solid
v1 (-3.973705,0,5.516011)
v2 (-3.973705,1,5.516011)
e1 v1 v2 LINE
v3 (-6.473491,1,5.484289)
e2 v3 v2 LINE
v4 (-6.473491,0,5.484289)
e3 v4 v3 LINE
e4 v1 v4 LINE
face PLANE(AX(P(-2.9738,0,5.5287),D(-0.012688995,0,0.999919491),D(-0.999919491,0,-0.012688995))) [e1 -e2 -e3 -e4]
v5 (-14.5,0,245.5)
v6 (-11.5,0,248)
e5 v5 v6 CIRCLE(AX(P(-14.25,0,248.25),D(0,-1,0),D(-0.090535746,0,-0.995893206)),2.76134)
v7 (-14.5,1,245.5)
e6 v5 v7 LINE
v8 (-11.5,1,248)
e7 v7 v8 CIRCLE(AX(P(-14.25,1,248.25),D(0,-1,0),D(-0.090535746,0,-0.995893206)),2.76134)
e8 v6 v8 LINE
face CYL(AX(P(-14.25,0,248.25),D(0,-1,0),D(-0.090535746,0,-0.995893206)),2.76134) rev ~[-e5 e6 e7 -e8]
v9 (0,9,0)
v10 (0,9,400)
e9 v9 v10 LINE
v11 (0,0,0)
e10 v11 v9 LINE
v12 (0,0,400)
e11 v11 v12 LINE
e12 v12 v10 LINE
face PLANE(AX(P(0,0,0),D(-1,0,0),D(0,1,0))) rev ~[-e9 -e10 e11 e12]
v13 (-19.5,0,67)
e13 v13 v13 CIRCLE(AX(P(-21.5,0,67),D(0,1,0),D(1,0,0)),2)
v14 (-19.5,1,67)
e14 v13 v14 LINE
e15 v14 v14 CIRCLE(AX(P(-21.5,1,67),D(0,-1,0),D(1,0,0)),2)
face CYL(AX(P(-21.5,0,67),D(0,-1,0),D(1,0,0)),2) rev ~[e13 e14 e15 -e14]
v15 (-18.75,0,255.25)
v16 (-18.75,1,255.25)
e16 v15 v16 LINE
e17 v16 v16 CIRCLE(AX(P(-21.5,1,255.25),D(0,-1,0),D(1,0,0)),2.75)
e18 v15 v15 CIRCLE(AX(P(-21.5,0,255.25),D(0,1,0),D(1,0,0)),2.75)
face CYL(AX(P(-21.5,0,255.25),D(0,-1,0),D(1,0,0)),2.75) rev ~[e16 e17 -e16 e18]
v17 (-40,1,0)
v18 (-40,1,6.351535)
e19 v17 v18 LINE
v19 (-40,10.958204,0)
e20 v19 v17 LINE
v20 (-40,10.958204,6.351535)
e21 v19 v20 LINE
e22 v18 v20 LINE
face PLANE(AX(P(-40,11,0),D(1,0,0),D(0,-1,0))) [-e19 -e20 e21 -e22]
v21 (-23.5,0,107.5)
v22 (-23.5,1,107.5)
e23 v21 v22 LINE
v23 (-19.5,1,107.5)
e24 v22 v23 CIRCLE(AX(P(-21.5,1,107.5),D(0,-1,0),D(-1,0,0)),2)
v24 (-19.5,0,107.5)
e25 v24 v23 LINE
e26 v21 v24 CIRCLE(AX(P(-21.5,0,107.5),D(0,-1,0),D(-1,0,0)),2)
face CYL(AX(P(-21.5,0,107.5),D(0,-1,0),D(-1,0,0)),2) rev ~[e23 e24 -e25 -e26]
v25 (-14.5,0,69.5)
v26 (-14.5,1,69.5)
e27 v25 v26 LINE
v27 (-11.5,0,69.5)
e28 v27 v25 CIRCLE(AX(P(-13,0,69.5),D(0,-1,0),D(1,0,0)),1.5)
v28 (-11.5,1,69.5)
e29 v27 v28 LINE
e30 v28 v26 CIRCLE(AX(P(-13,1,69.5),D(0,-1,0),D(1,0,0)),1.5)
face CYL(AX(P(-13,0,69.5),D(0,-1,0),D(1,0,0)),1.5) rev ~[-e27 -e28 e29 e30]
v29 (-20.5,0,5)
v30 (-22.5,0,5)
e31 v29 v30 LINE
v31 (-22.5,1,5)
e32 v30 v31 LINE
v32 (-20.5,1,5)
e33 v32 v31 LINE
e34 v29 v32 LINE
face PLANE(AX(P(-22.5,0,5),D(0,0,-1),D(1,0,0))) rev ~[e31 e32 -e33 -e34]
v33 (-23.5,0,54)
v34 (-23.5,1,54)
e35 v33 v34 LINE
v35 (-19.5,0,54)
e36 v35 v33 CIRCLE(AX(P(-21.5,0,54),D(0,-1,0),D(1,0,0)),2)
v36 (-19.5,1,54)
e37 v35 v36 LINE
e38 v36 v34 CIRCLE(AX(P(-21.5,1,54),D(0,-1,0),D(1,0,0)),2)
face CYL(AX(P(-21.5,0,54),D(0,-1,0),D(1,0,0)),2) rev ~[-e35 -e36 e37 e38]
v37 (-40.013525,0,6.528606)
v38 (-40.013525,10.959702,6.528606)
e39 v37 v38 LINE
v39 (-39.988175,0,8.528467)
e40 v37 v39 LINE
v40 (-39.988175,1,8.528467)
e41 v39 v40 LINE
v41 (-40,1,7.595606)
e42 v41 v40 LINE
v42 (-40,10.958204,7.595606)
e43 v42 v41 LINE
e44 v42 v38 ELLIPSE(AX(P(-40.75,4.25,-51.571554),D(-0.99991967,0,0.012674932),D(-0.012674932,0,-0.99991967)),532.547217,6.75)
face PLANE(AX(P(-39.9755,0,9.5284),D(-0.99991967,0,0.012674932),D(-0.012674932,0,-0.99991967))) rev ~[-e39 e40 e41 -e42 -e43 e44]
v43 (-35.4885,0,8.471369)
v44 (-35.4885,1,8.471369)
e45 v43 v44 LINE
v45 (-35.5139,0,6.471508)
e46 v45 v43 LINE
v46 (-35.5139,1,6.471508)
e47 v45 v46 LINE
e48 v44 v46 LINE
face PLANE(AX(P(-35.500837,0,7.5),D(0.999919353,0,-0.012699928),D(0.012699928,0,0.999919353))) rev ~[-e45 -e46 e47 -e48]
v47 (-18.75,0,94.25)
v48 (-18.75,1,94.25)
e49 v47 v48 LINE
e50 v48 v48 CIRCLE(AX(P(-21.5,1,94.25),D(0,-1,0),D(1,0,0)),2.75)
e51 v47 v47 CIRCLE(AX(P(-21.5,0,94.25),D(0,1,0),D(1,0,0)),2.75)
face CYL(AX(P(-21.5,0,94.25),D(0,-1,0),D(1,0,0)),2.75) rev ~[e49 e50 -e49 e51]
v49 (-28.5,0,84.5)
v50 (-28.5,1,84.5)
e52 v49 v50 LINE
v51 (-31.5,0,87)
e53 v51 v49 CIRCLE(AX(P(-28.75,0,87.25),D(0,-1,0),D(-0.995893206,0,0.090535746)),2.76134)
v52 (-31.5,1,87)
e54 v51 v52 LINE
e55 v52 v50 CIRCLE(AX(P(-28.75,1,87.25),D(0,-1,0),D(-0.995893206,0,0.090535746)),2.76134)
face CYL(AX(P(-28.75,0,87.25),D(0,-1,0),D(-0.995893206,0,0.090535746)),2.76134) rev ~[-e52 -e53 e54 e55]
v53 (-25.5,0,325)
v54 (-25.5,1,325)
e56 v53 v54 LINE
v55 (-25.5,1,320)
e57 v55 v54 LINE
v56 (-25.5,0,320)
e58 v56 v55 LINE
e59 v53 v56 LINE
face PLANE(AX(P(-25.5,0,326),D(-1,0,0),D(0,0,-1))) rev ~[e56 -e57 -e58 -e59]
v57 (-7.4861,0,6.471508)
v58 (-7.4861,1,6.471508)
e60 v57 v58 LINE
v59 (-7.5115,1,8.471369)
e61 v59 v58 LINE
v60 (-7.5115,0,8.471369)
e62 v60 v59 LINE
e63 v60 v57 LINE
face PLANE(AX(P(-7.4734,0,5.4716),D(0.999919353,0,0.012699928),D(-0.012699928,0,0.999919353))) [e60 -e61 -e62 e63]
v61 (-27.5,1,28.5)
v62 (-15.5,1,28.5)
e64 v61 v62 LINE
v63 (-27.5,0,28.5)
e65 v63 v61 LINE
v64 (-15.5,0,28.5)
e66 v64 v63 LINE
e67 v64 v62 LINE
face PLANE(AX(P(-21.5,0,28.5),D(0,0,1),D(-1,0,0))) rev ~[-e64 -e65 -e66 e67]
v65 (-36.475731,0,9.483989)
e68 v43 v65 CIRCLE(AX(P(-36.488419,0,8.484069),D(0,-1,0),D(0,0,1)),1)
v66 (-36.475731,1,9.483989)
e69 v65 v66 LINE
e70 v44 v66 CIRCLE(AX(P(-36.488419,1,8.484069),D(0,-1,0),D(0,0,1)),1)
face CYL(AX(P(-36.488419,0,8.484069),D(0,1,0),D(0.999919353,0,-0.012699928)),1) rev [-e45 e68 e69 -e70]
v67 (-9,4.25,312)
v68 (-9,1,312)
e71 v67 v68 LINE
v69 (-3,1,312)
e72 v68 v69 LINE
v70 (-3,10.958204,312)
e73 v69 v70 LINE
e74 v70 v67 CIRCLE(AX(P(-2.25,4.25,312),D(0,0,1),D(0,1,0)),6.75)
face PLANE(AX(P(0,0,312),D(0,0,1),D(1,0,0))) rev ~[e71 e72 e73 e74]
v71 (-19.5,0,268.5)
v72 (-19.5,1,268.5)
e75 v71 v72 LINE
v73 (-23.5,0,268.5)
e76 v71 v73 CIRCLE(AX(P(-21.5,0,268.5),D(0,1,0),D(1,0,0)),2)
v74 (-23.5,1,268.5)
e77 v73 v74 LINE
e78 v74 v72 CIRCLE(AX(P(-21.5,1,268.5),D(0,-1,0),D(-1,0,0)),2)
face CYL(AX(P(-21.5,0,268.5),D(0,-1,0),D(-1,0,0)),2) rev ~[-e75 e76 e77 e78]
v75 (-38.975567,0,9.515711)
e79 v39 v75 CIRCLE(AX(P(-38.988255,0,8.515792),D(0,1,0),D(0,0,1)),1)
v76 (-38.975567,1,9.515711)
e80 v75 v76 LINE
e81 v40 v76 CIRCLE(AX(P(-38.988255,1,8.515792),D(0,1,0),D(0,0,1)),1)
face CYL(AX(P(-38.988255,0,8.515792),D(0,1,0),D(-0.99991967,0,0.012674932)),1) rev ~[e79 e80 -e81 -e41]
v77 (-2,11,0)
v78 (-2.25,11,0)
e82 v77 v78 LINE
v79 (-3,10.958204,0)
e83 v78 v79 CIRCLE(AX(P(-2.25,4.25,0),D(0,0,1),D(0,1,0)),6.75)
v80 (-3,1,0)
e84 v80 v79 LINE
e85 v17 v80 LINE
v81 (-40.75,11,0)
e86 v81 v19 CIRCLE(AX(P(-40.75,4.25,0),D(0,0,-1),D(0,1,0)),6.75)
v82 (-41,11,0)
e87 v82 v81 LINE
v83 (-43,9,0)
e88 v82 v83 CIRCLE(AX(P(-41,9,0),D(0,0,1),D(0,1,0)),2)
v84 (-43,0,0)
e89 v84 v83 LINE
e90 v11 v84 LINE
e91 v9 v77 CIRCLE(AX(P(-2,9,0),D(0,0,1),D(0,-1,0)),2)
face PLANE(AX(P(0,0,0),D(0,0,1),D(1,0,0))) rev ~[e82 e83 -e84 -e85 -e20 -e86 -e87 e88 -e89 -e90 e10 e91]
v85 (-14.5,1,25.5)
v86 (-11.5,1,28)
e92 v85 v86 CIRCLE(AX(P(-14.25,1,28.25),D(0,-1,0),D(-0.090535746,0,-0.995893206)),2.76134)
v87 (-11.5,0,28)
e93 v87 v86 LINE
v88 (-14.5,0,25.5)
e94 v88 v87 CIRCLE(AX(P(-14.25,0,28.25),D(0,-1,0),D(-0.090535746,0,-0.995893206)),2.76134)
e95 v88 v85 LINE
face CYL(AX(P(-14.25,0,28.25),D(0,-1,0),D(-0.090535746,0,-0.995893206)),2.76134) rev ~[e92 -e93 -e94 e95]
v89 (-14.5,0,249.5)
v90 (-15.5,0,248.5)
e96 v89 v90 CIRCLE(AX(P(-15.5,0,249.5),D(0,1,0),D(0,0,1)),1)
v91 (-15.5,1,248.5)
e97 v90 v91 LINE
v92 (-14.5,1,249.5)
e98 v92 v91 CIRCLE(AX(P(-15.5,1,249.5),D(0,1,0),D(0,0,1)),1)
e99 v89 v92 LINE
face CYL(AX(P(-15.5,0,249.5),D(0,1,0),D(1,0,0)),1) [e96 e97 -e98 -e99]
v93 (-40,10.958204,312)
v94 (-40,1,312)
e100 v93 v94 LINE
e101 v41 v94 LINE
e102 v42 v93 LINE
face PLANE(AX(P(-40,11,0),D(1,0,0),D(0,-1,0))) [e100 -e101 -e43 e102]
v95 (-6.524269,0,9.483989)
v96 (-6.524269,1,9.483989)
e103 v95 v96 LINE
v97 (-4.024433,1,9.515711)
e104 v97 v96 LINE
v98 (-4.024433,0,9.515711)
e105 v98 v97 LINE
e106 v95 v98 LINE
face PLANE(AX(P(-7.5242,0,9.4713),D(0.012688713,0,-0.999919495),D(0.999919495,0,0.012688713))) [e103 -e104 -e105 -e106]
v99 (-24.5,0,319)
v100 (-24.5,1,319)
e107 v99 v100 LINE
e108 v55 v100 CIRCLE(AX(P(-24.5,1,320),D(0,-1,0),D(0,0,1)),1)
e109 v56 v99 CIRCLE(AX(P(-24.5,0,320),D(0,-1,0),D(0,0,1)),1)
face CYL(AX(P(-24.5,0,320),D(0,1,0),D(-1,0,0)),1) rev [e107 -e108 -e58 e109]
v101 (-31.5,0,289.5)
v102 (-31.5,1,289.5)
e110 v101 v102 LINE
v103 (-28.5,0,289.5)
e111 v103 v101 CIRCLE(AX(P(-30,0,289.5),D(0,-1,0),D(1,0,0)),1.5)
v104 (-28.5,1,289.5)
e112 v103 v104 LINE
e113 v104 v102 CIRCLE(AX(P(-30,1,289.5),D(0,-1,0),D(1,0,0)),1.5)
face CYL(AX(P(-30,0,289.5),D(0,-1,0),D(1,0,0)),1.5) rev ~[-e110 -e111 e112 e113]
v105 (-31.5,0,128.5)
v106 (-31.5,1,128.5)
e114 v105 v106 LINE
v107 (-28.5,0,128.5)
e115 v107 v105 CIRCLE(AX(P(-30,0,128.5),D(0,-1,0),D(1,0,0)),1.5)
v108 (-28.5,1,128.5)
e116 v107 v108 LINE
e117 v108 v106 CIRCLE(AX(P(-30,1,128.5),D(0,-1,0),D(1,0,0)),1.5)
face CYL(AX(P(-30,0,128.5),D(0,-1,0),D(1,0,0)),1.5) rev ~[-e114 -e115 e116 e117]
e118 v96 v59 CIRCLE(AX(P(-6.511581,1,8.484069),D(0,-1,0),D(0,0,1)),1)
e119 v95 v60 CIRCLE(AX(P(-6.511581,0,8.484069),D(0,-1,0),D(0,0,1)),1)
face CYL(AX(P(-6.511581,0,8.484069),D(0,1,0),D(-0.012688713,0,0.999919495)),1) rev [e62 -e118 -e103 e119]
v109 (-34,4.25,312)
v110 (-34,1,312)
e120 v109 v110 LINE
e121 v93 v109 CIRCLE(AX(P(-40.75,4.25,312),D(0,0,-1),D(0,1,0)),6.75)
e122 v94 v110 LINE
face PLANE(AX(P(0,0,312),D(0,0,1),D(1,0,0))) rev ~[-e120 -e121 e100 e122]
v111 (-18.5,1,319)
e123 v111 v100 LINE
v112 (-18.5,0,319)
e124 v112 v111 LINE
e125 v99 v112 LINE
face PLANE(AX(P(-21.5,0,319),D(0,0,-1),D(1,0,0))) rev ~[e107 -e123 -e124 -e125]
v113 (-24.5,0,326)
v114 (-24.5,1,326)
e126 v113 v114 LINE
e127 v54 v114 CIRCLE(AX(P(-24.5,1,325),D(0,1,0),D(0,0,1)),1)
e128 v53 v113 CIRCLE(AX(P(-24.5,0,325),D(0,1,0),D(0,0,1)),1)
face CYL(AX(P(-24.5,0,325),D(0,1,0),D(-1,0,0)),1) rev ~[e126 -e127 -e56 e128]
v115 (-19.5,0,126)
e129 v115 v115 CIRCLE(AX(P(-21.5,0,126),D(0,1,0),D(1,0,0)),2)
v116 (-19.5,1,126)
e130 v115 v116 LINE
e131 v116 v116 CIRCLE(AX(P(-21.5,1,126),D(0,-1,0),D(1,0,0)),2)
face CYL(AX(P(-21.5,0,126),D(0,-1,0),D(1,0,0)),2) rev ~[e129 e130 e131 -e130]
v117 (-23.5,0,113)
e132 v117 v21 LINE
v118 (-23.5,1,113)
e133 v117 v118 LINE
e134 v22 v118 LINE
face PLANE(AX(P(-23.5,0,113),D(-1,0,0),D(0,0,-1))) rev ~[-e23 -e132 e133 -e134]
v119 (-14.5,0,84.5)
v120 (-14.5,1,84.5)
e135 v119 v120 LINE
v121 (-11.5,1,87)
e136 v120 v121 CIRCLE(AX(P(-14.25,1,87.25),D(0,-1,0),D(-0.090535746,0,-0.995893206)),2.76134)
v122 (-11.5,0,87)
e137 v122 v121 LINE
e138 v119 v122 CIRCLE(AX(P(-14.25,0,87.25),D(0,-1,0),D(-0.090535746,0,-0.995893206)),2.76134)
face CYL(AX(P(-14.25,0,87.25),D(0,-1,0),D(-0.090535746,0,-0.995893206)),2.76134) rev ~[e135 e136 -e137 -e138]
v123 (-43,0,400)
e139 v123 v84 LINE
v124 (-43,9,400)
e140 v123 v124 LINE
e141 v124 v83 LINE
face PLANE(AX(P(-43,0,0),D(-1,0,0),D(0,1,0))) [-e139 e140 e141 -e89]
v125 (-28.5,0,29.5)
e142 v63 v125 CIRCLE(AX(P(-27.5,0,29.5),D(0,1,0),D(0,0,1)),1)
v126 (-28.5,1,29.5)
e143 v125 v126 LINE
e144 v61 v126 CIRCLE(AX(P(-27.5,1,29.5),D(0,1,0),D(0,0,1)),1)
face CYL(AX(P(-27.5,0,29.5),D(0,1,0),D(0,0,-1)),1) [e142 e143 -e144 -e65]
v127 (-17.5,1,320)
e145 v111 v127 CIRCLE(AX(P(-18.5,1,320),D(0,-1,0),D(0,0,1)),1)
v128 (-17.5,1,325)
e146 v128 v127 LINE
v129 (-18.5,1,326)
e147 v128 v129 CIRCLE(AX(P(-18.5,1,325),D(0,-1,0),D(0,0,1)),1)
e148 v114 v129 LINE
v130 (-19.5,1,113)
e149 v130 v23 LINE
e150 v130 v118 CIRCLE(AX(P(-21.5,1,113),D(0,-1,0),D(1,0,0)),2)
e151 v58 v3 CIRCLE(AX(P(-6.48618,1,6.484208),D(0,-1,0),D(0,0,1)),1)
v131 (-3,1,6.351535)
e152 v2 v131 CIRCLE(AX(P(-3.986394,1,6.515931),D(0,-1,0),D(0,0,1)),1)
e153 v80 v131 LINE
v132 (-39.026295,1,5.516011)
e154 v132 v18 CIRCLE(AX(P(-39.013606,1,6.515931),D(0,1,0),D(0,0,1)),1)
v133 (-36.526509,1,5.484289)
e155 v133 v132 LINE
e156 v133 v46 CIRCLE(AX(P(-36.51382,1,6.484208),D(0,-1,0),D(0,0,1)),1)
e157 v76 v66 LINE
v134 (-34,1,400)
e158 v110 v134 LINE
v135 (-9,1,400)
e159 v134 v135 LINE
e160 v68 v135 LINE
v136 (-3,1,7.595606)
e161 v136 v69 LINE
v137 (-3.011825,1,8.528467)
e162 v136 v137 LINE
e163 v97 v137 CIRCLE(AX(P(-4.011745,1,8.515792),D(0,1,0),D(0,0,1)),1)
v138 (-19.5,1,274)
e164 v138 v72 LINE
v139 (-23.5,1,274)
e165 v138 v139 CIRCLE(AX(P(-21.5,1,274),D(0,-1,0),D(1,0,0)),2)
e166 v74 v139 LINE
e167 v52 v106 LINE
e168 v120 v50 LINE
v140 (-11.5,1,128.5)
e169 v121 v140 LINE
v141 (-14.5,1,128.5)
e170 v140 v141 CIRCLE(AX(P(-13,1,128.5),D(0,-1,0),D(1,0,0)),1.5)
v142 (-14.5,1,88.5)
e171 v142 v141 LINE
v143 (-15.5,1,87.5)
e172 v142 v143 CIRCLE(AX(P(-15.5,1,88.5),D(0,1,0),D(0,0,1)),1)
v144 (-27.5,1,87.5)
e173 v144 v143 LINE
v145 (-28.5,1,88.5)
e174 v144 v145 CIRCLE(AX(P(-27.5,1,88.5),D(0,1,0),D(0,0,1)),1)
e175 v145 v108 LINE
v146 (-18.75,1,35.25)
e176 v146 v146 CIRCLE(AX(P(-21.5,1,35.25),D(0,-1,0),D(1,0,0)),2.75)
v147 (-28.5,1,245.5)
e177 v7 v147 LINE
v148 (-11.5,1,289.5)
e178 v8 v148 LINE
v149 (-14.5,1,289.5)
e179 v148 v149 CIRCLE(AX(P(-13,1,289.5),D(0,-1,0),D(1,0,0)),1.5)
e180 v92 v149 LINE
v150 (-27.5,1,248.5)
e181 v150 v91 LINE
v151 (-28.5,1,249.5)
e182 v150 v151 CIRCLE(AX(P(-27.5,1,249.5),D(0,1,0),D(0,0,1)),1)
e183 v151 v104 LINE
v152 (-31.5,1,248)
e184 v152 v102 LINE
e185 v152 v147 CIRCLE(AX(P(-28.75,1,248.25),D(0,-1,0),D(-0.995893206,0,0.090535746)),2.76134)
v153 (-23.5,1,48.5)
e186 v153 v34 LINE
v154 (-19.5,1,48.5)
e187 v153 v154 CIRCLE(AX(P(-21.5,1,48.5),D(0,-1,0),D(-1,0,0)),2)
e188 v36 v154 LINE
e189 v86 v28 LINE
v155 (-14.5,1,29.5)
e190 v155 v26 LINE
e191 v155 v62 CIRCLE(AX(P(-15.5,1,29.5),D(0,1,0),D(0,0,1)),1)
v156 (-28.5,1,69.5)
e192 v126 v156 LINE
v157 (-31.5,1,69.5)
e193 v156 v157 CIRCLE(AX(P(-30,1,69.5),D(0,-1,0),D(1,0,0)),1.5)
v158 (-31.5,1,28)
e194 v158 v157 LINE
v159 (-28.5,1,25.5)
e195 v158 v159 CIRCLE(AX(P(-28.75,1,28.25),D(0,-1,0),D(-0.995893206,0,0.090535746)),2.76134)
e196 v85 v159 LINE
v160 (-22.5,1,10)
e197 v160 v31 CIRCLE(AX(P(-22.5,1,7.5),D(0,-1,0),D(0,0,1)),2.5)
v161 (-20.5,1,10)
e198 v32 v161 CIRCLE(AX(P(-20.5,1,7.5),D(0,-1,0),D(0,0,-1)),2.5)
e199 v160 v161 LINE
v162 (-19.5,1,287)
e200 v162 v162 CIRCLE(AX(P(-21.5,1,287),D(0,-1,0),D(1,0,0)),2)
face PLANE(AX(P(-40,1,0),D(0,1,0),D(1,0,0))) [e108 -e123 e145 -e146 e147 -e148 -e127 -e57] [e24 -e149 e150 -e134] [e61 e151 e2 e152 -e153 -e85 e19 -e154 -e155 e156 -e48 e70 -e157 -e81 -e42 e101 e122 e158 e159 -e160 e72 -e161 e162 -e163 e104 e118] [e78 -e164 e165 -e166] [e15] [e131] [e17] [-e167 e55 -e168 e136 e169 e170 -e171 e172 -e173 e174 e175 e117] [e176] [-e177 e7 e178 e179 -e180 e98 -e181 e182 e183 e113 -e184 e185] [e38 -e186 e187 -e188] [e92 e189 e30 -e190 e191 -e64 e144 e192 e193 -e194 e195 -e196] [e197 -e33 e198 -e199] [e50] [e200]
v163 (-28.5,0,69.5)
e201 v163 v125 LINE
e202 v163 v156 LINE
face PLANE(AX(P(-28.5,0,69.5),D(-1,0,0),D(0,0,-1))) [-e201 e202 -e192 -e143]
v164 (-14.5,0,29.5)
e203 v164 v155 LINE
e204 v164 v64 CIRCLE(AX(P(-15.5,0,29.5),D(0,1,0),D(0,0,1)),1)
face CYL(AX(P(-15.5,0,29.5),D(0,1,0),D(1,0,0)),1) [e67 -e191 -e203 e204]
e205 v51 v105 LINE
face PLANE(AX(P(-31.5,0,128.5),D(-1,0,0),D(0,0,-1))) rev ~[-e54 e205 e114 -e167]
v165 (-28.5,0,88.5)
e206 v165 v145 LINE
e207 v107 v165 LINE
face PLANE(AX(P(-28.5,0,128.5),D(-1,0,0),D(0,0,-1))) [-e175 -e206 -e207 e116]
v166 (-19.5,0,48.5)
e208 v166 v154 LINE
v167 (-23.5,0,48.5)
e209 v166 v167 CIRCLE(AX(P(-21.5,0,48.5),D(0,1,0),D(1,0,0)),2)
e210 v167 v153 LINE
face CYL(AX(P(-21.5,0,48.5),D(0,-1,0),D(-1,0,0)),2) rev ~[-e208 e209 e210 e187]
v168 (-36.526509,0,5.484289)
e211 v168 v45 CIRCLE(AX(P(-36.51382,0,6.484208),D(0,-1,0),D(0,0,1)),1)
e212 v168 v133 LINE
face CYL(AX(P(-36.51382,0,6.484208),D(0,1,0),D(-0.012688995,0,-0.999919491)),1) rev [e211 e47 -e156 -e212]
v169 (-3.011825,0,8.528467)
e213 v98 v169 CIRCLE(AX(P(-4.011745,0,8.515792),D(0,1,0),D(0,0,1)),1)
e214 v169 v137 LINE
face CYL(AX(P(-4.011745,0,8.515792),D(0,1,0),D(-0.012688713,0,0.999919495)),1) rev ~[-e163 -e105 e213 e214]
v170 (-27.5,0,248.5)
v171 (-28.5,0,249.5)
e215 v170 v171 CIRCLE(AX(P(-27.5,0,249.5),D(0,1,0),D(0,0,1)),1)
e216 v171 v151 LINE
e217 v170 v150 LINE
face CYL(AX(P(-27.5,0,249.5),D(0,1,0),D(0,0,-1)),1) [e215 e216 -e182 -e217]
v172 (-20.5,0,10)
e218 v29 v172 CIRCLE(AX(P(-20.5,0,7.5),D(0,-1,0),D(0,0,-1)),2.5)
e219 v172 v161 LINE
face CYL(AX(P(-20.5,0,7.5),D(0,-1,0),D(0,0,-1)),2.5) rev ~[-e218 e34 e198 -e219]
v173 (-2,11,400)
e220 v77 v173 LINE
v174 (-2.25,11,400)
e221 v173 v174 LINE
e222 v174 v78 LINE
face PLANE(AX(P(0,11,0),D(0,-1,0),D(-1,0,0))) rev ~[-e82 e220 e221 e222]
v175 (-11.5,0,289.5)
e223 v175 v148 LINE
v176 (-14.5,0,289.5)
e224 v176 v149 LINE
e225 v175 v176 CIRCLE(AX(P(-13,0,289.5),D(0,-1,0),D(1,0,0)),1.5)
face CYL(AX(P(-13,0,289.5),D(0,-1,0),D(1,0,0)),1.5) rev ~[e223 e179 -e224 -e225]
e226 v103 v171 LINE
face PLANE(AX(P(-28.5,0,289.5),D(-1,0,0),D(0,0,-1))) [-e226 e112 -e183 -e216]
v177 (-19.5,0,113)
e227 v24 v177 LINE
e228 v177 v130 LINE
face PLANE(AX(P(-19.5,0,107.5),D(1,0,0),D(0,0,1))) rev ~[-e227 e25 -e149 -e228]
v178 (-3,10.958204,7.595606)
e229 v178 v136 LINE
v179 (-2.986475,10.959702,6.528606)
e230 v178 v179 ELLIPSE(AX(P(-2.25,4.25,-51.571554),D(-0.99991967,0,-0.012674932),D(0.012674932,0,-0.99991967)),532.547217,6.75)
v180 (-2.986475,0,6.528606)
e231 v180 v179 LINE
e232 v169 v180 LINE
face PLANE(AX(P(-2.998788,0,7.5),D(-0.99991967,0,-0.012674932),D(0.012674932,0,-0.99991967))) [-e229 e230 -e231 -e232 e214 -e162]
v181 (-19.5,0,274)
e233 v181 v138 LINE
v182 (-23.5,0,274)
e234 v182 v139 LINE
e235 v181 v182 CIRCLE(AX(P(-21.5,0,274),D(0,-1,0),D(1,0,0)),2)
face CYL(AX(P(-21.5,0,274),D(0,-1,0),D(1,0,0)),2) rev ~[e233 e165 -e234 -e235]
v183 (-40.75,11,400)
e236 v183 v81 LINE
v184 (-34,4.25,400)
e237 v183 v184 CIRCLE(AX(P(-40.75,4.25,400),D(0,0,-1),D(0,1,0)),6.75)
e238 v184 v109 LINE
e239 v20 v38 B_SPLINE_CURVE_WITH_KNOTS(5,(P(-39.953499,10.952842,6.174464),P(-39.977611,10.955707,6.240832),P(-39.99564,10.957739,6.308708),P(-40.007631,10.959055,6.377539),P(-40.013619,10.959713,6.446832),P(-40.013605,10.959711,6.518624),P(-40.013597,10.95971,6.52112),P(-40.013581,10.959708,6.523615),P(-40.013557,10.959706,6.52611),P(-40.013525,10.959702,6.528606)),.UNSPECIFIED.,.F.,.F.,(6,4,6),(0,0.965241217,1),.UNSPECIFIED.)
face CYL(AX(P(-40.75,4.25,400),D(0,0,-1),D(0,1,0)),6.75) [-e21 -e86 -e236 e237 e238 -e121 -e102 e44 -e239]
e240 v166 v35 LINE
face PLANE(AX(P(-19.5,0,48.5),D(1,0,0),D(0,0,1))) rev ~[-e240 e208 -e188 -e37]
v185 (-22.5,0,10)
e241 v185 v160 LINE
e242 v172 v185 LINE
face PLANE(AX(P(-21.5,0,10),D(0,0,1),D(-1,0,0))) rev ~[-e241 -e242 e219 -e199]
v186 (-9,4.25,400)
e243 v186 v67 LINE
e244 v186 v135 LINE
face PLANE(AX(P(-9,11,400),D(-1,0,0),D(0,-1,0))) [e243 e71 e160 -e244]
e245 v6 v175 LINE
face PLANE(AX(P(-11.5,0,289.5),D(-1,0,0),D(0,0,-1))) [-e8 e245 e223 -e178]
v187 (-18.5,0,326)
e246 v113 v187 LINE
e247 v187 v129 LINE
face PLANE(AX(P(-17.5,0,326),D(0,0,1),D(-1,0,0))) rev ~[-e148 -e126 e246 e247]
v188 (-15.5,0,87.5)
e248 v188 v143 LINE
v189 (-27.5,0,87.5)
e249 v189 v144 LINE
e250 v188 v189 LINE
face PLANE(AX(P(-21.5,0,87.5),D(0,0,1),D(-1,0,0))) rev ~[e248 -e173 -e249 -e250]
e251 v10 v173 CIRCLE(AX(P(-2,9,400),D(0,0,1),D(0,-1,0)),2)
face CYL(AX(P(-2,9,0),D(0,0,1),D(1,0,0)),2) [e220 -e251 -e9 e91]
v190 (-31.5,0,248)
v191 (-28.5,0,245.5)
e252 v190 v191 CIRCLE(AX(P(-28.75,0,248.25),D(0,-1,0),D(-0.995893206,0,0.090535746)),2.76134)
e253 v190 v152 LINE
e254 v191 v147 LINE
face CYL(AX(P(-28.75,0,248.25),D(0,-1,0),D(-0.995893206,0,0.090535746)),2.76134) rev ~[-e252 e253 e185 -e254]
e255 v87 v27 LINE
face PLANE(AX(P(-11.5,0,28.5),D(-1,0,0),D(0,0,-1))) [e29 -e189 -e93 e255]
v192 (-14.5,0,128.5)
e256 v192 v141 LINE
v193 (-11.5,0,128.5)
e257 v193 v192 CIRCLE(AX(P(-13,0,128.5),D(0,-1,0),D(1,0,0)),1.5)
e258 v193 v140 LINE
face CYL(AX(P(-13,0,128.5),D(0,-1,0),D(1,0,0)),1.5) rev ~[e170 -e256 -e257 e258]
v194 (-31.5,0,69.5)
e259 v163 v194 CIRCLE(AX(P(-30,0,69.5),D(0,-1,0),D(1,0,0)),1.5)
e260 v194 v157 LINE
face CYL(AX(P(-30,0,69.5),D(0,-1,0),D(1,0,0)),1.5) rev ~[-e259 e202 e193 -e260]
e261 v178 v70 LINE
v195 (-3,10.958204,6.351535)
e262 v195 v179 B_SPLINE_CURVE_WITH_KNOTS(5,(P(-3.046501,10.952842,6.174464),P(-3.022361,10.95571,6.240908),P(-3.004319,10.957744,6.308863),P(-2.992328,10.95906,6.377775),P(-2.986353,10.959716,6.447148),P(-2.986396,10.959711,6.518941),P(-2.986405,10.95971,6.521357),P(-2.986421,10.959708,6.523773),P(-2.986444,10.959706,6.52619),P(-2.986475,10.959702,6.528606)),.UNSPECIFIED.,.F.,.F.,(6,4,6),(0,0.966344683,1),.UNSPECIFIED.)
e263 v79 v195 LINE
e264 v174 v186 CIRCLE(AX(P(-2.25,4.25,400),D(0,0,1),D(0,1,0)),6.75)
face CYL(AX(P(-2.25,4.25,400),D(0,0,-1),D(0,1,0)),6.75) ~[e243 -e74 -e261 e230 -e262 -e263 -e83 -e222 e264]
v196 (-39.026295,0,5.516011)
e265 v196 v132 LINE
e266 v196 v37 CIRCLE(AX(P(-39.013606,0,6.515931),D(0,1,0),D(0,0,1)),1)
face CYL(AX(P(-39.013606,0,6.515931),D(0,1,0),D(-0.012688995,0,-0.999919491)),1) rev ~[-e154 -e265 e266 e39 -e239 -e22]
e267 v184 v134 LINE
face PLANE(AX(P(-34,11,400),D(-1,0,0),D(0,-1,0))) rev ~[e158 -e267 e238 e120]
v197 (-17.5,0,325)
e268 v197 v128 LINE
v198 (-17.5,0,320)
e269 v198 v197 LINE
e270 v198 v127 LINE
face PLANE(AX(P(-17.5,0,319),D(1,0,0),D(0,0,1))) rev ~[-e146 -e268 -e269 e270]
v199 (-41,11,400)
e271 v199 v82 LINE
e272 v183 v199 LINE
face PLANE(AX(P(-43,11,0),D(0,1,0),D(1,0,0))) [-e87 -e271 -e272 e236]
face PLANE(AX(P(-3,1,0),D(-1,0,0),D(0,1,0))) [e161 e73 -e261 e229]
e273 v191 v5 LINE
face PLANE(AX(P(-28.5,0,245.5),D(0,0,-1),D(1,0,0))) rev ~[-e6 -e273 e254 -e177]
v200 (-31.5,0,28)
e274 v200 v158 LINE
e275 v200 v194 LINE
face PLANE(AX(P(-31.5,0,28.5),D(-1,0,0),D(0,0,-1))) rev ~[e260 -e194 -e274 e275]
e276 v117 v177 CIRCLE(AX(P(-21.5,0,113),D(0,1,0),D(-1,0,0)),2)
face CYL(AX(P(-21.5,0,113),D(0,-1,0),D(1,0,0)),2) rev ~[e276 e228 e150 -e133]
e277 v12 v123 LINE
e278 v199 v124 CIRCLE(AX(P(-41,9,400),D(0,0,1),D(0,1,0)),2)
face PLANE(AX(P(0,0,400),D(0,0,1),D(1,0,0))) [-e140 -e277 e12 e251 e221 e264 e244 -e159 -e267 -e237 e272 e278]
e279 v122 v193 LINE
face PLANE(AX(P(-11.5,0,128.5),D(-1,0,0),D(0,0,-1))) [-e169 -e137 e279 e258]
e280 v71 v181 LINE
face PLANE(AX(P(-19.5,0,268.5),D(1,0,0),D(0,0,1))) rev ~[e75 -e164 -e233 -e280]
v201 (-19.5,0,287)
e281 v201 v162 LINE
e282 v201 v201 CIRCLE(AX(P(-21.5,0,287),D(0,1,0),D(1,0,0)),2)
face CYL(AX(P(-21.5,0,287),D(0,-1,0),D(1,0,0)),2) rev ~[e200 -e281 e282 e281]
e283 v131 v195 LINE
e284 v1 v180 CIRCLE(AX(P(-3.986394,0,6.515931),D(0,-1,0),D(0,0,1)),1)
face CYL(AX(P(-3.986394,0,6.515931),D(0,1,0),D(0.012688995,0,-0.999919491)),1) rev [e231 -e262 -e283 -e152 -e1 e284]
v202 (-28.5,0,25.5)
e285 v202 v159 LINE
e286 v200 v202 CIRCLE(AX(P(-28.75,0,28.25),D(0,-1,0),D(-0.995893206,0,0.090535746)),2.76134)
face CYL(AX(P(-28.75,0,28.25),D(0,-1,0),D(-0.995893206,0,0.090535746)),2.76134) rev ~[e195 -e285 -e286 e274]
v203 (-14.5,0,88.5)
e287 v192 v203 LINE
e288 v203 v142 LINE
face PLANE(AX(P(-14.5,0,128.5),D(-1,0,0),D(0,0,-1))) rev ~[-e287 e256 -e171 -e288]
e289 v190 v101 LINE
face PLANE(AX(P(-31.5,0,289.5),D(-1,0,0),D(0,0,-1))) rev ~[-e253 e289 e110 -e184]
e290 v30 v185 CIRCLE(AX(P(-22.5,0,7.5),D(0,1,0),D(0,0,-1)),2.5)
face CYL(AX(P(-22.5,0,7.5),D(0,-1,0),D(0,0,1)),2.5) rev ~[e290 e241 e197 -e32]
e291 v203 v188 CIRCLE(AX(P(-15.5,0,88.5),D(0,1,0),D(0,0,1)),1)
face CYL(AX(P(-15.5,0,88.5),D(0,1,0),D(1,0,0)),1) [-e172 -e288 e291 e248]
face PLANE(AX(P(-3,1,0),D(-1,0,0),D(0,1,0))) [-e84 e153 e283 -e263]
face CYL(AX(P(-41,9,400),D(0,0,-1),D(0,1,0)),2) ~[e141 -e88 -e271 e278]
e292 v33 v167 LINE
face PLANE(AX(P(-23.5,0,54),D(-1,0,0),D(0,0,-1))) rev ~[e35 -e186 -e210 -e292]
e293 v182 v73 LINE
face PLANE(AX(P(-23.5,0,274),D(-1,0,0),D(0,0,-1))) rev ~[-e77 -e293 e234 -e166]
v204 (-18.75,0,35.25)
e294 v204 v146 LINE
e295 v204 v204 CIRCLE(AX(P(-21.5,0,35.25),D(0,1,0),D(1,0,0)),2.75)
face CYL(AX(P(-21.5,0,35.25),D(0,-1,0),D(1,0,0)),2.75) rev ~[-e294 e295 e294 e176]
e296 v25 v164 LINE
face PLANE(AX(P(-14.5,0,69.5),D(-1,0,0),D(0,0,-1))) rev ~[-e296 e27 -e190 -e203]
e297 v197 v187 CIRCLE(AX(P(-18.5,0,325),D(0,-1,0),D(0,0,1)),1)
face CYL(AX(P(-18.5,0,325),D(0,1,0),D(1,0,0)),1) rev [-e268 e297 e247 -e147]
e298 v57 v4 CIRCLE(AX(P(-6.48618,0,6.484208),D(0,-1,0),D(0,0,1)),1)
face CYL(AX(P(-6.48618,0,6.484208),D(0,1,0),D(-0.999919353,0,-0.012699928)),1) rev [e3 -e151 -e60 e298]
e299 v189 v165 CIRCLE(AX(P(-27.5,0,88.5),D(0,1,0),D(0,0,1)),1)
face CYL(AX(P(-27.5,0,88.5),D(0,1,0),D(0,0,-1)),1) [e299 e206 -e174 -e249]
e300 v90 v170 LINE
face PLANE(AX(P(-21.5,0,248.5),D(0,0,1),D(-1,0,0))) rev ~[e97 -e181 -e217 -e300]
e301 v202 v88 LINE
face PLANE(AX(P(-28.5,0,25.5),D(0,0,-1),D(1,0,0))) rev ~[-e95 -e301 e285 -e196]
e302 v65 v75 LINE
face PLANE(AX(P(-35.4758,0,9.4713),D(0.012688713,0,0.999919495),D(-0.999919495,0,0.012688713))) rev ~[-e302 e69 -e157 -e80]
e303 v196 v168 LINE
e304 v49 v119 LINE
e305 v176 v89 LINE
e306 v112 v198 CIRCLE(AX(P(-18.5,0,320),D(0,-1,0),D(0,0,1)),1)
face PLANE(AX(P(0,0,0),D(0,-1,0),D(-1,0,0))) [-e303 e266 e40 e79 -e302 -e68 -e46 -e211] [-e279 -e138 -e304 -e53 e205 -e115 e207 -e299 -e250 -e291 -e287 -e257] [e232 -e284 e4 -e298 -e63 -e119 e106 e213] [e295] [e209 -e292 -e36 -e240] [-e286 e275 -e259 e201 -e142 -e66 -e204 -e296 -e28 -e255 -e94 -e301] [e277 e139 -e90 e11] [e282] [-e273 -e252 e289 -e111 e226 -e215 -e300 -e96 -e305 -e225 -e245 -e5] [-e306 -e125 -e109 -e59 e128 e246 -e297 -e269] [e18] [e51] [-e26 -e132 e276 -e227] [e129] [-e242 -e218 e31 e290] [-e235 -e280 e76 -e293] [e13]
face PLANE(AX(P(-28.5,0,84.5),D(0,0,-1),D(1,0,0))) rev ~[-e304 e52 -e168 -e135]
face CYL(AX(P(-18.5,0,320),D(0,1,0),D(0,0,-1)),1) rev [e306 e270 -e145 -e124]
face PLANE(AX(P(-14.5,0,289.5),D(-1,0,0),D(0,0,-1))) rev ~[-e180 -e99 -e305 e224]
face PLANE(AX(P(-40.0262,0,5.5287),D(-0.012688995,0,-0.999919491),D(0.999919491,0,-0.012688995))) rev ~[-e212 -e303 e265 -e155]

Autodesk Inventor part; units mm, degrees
ref_plane "YZ Plane" through (0, 0, 0) normal (1, 0, 0) x (0, 1, 0)
ref_plane "XZ Plane" through (0, 0, 0) normal (0, 1, 0) x (-1, 0, 0)
ref_plane "XY Plane" through (0, 0, 0) normal (0, 0, 1) x (1, 0, 0)
sketch "Эскиз1" plane through (0, 0, 0) normal (0, 0, 1) x (1, 0, 0)
  line L0 (0, 0) -> (-43, 0)
  line L1 (-43, 0) -> (-43, 11)
  line L2 (0, 0) -> (0, 11)
  line L3 (0, 11) -> (-3, 11)
  line L4 (-43, 11) -> (-40, 11)
  line L5 (-40, 11) -> (-40, 1)
  line L6 (-40, 1) -> (-3, 1)
  line L7 (-3, 1) -> (-3, 11)
  dimension "d0" = 43
  dimension "d1" = 11
  dimension "d2" = 11
  dimension "d3" = 3
  dimension "d4" = 10
extrude "Выдавливание1" add sketch "Эскиз1" along normal blind 400
sketch "Эскиз2" plane through (0, 0, 400) normal (0, 0, 1) x (1, 0, 0)
  line L0 (-40, 11) -> (-43, 11) projected
  line L1 (-43, 0) -> (0, 0) projected
  line L2 (-43, 11) -> (-34, 11)
  line L3 (-34, 11) -> (-34, 0)
  line L4 (-34, 0) -> (-43, 0)
  line L5 (-43, 0) -> (-43, 11)
  line L6 (0, 11) -> (-9, 11)
  line L7 (-9, 11) -> (-9, 0)
  line L8 (-9, 0) -> (0, 0)
  line L9 (0, 0) -> (0, 11)
  dimension "d7" = 9
  dimension "d8" = 9
extrude "Выдавливание2" add sketch "Эскиз2" against normal blind 88
fillet "Сопряжение1" radius 6.75 2 edges at (-9, 11, 356) (-34, 11, 356)
fillet "Сопряжение2" radius 2 2 edges at (-43, 11, 200) (0, 11, 200)
sketch "Эскиз3" plane through (-43, 0, 0) normal (0, -1, 0) x (1, 0, 0)
  line L0 (0, 400) -> (43, 400) projected
  line L1 (0, 0) -> (0, 400) projected
  line L2 (0, 0) -> (43, 0) projected
  line L3 (43, 0) -> (43, 400) projected
  line L4 (21.5, 400) -> (21.5, -41)
  line L5 (21.5, 400) -> (21.5, 322.5)
  line L6 (17.5, 319) -> (25.5, 319)
  line L7 (25.5, 319) -> (25.5, 326)
  line L8 (25.5, 326) -> (17.5, 326)
  line L9 (17.5, 326) -> (17.5, 319)
  line L10 (17.5, 319) -> (25.5, 326) construction
  line L11 (25.5, 319) -> (17.5, 326) construction
  line L12 (21.5, 319) -> (21.5, 287)
  circle A0 centre (21.5, 287) radius 2
  line L13 (21.5, 285) -> (21.5, 276)
  line L14 (21.5, 276) -> (21.5, 266.5) construction
  line L15 (19.5, 274) -> (19.5, 268.5)
  line L16 (23.5, 268.5) -> (23.5, 274)
  arc A1 (23.5, 274) -> (19.5, 274) centre (21.5, 274) ccw
  arc A2 (19.5, 268.5) -> (23.5, 268.5) centre (21.5, 268.5) ccw
  line L17 (21.5, 266.5) -> (21.5, 255.25)
  circle A3 centre (21.5, 255.25) radius 2.75
  line L18 (21.5, 400) -> (28.5, 400)
  line L19 (21.5, 400) -> (14.5, 400)
  line L20 (14.5, 400) -> (14.5, -41)
  line L21 (28.5, 400) -> (28.5, -41)
  line L22 (31.5, 400) -> (31.5, -41)
  line L23 (11.5, 400) -> (11.5, -41)
  line L24 (30, 291) -> (30, 247) construction
  line L25 (28.5, 289.5) -> (28.5, 248.5)
  line L26 (31.5, 248) -> (31.5, 289.5)
  arc A4 (31.5, 289.5) -> (28.5, 289.5) centre (30, 289.5) ccw
  line L27 (13, 291) -> (13, 245.5) construction
  line L28 (11.5, 289.5) -> (11.5, 248)
  line L29 (14.5, 248.5) -> (14.5, 289.5)
  arc A5 (14.5, 289.5) -> (11.5, 289.5) centre (13, 289.5) ccw
  line L30 (30, 247) -> (13, 247) construction
  line L31 (28.5, 248.5) -> (14.5, 248.5)
  line L32 (14.5, 245.5) -> (28.5, 245.5)
  arc A6 (28.5, 245.5) -> (31.5, 248.5) centre (28.75, 248.25) ccw
  arc A7 (11.5, 248.5) -> (14.5, 245.5) centre (14.25, 248.25) ccw
  circle A8 centre (21.5, 67) radius 2
  line L33 (21.5, 65) -> (21.5, 56)
  line L34 (21.5, 56) -> (21.5, 46.5) construction
  line L35 (19.5, 54) -> (19.5, 48.5)
  line L36 (23.5, 48.5) -> (23.5, 54)
  arc A9 (23.5, 54) -> (19.5, 54) centre (21.5, 54) ccw
  arc A10 (19.5, 48.5) -> (23.5, 48.5) centre (21.5, 48.5) ccw
  line L37 (21.5, 46.5) -> (21.5, 35.25)
  circle A11 centre (21.5, 35.25) radius 2.75
  line L38 (30, 71) -> (30, 27) construction
  line L39 (28.5, 69.5) -> (28.5, 28.5)
  line L40 (31.5, 28) -> (31.5, 69.5)
  arc A12 (31.5, 69.5) -> (28.5, 69.5) centre (30, 69.5) ccw
  line L41 (13, 71) -> (13, 25.5) construction
  line L42 (11.5, 69.5) -> (11.5, 28)
  line L43 (14.5, 28.5) -> (14.5, 69.5)
  arc A13 (14.5, 69.5) -> (11.5, 69.5) centre (13, 69.5) ccw
  line L44 (30, 27) -> (13, 27) construction
  line L45 (28.5, 28.5) -> (14.5, 28.5)
  line L46 (14.5, 25.5) -> (28.5, 25.5)
  arc A14 (28.5, 25.5) -> (31.5, 28.5) centre (28.75, 28.25) ccw
  arc A15 (11.5, 28.5) -> (14.5, 25.5) centre (14.25, 28.25) ccw
  circle A16 centre (21.5, 126) radius 2
  line L47 (21.5, 124) -> (21.5, 115)
  arc A17 (23.5, 113) -> (19.5, 113) centre (21.5, 113) ccw
  line L48 (23.5, 107.5) -> (23.5, 113)
  line L49 (21.5, 115) -> (21.5, 105.5) construction
  arc A18 (19.5, 107.5) -> (23.5, 107.5) centre (21.5, 107.5) ccw
  line L50 (21.5, 105.5) -> (21.5, 94.25)
  line L51 (14.5, 87.5) -> (14.5, 128.5)
  line L52 (28.5, 128.5) -> (28.5, 87.5)
  line L53 (11.5, 128.5) -> (11.5, 87)
  line L54 (31.5, 87) -> (31.5, 128.5)
  line L55 (13, 130) -> (13, 84.5) construction
  line L56 (30, 130) -> (30, 86) construction
  arc A19 (31.5, 128.5) -> (28.5, 128.5) centre (30, 128.5) ccw
  arc A20 (14.5, 128.5) -> (11.5, 128.5) centre (13, 128.5) ccw
  circle A21 centre (21.5, 94.25) radius 2.75
  line L57 (19.5, 113) -> (19.5, 107.5)
  arc A22 (28.5, 84.5) -> (31.5, 87.5) centre (28.75, 87.25) ccw
  line L58 (30, 86) -> (13, 86) construction
  line L59 (14.5, 84.5) -> (28.5, 84.5)
  arc A23 (11.5, 87.5) -> (14.5, 84.5) centre (14.25, 87.25) ccw
  line L60 (28.5, 87.5) -> (14.5, 87.5)
  line L61 (43, 7.5) -> (0, 7.5)
  line L62 (25, 7.5) -> (18, 7.5) construction
  line L63 (22.5, 10) -> (20.5, 10)
  line L64 (20.5, 5) -> (22.5, 5)
  arc A24 (22.5, 5) -> (22.5, 10) centre (22.5, 7.5) ccw
  arc A25 (20.5, 10) -> (20.5, 5) centre (20.5, 7.5) ccw
  line L65 (40.0262, 5.5287) -> (35.5266, 5.4716)
  line L66 (35.5266, 5.4716) -> (35.4758, 9.4713)
  line L67 (35.4758, 9.4713) -> (39.9755, 9.5284)
  line L68 (39.9755, 9.5284) -> (40.0262, 5.5287)
  line L69 (40.0262, 5.5287) -> (35.4758, 9.4713) construction
  line L70 (35.5266, 5.4716) -> (39.9755, 9.5284) construction
  line L71 (2.9738, 5.5287) -> (7.4734, 5.4716)
  line L72 (7.4734, 5.4716) -> (7.5242, 9.4713)
  line L73 (7.5242, 9.4713) -> (3.0245, 9.5284)
  line L74 (3.0245, 9.5284) -> (2.9738, 5.5287)
  line L75 (2.9738, 5.5287) -> (7.5242, 9.4713) construction
  line L76 (7.4734, 5.4716) -> (3.0245, 9.5284) construction
  point P0 (21.5, 271.25)
  point P1 (21.5, 289)
  point P2 (21.5, 252.5)
  point P3 (30, 268.25)
  point P4 (13, 268.25)
  point P5 (21.5, 247)
  point P6 (21.5, 51.25)
  point P7 (21.5, 69)
  point P8 (21.5, 32.5)
  point P9 (30, 48.25)
  point P10 (13, 48.25)
  point P11 (21.5, 27)
  point P12 (21.5, 69)
  point P13 (21.5, 128)
  point P14 (21.5, 110.25)
  point P15 (13, 107.25)
  point P16 (30, 107.25)
  point P17 (21.5, 91.5)
  point P18 (21.5, 86)
  point P19 (21.5, 128)
  point P20 (21.5, 128)
  point P21 (31.5, 128.5)
  point P22 (28.5, 128.5)
  point P23 (11.5, 87)
  point P24 (21.5, 7.5)
  point P25 (21.5, 7.5)
  point P26 (37.751, 7.5)
  dimension "d22" = 5.5
  dimension "d38" = 5.5
  dimension "d45" = 5.5
  dimension "d13" = 77.5
  dimension "d14" = 8
  dimension "d15" = 7
  dimension "d16" = 32
  dimension "d17" = 4
  dimension "d18" = 9
  dimension "d19" = 9.5
  dimension "d20" = 4
  dimension "d21" = 11.25
  dimension "d23" = 7
  dimension "d24" = 7
  dimension "d25" = 3
  dimension "d26" = 3
  dimension "d33" = 4
  dimension "d34" = 9
  dimension "d35" = 9.5
  dimension "d36" = 4
  dimension "d37" = 11.25
  dimension "d40" = 4
  dimension "d41" = 9
  dimension "d42" = 9.5
  dimension "d43" = 4
  dimension "d44" = 11.25
  dimension "d49" = 7.5
  dimension "d50" = 7
  dimension "d51" = 5
  dimension "d52" = 4.5
  dimension "d53" = 4
  dimension "d54" = 10.5
extrude "Выдавливание3" cut sketch "Эскиз3" against normal blind 88 contours A5 L20 A7 L23 | L74 L73 L72 L61 | L61 L72 L71 L74 | L8 L7 L6 L4 | L4 L6 L9 L8 | L31 L4 L32 L20 | A4 L22 A6 L21 | L31 L21 L32 L4 | A20 L20 A23 L23 | L23 A13 L20 A15 | A3 L4 | L4 A3 | L64 A25 L61 L4 | L4 L61 A24 L64 | L20 L45 L4 L46 | A25 L63 L4 L61 | A0 L4 | L4 A0 | L60 L4 L59 L20 | A16 L4 | L4 A16 | L4 L63 A24 L61 | L4 L45 L21 L46 | L68 L65 L66 L61 | L61 L66 L67 L68 | A19 L22 A22 L21 | L60 L21 L59 L4 | A2 L15 A1 L4 | L4 A1 L16 A2 | L21 A12 L22 A14 | A21 L4 | L4 A21 | A17 L48 A18 L4 | L4 A18 L57 A17 | A11 L4 | L4 A11 | A8 L4 | L4 A8 | A10 L35 A9 L4 | L4 A9 L36 A10
fillet "Сопряжение3" radius 1 18 edges at (-25.5, 0.5, 326) (-25.5, 0.5, 319) (-17.5, 0.5, 319) (-17.5, 0.5, 326) (-28.5, 0.5, 248.5) (-14.5, 0.5, 248.5) (-28.5, 0.5, 87.5) (-14.5, 0.5, 87.5) (-28.5, 0.5, 28.5) (-14.5, 0.5, 28.5) (-7.4734, 0.5, 5.4716) (-2.9738, 5.4805, 5.5287) (-3.0245, 0.5, 9.5284) (-7.5242, 0.5, 9.4713) (-35.5266, 0.5, 5.4716) (-40.0262, 5.4805, 5.5287) (-35.4758, 0.5, 9.4713) (-39.9755, 0.5, 9.5284)
properties part number "1 часть направляшки"
